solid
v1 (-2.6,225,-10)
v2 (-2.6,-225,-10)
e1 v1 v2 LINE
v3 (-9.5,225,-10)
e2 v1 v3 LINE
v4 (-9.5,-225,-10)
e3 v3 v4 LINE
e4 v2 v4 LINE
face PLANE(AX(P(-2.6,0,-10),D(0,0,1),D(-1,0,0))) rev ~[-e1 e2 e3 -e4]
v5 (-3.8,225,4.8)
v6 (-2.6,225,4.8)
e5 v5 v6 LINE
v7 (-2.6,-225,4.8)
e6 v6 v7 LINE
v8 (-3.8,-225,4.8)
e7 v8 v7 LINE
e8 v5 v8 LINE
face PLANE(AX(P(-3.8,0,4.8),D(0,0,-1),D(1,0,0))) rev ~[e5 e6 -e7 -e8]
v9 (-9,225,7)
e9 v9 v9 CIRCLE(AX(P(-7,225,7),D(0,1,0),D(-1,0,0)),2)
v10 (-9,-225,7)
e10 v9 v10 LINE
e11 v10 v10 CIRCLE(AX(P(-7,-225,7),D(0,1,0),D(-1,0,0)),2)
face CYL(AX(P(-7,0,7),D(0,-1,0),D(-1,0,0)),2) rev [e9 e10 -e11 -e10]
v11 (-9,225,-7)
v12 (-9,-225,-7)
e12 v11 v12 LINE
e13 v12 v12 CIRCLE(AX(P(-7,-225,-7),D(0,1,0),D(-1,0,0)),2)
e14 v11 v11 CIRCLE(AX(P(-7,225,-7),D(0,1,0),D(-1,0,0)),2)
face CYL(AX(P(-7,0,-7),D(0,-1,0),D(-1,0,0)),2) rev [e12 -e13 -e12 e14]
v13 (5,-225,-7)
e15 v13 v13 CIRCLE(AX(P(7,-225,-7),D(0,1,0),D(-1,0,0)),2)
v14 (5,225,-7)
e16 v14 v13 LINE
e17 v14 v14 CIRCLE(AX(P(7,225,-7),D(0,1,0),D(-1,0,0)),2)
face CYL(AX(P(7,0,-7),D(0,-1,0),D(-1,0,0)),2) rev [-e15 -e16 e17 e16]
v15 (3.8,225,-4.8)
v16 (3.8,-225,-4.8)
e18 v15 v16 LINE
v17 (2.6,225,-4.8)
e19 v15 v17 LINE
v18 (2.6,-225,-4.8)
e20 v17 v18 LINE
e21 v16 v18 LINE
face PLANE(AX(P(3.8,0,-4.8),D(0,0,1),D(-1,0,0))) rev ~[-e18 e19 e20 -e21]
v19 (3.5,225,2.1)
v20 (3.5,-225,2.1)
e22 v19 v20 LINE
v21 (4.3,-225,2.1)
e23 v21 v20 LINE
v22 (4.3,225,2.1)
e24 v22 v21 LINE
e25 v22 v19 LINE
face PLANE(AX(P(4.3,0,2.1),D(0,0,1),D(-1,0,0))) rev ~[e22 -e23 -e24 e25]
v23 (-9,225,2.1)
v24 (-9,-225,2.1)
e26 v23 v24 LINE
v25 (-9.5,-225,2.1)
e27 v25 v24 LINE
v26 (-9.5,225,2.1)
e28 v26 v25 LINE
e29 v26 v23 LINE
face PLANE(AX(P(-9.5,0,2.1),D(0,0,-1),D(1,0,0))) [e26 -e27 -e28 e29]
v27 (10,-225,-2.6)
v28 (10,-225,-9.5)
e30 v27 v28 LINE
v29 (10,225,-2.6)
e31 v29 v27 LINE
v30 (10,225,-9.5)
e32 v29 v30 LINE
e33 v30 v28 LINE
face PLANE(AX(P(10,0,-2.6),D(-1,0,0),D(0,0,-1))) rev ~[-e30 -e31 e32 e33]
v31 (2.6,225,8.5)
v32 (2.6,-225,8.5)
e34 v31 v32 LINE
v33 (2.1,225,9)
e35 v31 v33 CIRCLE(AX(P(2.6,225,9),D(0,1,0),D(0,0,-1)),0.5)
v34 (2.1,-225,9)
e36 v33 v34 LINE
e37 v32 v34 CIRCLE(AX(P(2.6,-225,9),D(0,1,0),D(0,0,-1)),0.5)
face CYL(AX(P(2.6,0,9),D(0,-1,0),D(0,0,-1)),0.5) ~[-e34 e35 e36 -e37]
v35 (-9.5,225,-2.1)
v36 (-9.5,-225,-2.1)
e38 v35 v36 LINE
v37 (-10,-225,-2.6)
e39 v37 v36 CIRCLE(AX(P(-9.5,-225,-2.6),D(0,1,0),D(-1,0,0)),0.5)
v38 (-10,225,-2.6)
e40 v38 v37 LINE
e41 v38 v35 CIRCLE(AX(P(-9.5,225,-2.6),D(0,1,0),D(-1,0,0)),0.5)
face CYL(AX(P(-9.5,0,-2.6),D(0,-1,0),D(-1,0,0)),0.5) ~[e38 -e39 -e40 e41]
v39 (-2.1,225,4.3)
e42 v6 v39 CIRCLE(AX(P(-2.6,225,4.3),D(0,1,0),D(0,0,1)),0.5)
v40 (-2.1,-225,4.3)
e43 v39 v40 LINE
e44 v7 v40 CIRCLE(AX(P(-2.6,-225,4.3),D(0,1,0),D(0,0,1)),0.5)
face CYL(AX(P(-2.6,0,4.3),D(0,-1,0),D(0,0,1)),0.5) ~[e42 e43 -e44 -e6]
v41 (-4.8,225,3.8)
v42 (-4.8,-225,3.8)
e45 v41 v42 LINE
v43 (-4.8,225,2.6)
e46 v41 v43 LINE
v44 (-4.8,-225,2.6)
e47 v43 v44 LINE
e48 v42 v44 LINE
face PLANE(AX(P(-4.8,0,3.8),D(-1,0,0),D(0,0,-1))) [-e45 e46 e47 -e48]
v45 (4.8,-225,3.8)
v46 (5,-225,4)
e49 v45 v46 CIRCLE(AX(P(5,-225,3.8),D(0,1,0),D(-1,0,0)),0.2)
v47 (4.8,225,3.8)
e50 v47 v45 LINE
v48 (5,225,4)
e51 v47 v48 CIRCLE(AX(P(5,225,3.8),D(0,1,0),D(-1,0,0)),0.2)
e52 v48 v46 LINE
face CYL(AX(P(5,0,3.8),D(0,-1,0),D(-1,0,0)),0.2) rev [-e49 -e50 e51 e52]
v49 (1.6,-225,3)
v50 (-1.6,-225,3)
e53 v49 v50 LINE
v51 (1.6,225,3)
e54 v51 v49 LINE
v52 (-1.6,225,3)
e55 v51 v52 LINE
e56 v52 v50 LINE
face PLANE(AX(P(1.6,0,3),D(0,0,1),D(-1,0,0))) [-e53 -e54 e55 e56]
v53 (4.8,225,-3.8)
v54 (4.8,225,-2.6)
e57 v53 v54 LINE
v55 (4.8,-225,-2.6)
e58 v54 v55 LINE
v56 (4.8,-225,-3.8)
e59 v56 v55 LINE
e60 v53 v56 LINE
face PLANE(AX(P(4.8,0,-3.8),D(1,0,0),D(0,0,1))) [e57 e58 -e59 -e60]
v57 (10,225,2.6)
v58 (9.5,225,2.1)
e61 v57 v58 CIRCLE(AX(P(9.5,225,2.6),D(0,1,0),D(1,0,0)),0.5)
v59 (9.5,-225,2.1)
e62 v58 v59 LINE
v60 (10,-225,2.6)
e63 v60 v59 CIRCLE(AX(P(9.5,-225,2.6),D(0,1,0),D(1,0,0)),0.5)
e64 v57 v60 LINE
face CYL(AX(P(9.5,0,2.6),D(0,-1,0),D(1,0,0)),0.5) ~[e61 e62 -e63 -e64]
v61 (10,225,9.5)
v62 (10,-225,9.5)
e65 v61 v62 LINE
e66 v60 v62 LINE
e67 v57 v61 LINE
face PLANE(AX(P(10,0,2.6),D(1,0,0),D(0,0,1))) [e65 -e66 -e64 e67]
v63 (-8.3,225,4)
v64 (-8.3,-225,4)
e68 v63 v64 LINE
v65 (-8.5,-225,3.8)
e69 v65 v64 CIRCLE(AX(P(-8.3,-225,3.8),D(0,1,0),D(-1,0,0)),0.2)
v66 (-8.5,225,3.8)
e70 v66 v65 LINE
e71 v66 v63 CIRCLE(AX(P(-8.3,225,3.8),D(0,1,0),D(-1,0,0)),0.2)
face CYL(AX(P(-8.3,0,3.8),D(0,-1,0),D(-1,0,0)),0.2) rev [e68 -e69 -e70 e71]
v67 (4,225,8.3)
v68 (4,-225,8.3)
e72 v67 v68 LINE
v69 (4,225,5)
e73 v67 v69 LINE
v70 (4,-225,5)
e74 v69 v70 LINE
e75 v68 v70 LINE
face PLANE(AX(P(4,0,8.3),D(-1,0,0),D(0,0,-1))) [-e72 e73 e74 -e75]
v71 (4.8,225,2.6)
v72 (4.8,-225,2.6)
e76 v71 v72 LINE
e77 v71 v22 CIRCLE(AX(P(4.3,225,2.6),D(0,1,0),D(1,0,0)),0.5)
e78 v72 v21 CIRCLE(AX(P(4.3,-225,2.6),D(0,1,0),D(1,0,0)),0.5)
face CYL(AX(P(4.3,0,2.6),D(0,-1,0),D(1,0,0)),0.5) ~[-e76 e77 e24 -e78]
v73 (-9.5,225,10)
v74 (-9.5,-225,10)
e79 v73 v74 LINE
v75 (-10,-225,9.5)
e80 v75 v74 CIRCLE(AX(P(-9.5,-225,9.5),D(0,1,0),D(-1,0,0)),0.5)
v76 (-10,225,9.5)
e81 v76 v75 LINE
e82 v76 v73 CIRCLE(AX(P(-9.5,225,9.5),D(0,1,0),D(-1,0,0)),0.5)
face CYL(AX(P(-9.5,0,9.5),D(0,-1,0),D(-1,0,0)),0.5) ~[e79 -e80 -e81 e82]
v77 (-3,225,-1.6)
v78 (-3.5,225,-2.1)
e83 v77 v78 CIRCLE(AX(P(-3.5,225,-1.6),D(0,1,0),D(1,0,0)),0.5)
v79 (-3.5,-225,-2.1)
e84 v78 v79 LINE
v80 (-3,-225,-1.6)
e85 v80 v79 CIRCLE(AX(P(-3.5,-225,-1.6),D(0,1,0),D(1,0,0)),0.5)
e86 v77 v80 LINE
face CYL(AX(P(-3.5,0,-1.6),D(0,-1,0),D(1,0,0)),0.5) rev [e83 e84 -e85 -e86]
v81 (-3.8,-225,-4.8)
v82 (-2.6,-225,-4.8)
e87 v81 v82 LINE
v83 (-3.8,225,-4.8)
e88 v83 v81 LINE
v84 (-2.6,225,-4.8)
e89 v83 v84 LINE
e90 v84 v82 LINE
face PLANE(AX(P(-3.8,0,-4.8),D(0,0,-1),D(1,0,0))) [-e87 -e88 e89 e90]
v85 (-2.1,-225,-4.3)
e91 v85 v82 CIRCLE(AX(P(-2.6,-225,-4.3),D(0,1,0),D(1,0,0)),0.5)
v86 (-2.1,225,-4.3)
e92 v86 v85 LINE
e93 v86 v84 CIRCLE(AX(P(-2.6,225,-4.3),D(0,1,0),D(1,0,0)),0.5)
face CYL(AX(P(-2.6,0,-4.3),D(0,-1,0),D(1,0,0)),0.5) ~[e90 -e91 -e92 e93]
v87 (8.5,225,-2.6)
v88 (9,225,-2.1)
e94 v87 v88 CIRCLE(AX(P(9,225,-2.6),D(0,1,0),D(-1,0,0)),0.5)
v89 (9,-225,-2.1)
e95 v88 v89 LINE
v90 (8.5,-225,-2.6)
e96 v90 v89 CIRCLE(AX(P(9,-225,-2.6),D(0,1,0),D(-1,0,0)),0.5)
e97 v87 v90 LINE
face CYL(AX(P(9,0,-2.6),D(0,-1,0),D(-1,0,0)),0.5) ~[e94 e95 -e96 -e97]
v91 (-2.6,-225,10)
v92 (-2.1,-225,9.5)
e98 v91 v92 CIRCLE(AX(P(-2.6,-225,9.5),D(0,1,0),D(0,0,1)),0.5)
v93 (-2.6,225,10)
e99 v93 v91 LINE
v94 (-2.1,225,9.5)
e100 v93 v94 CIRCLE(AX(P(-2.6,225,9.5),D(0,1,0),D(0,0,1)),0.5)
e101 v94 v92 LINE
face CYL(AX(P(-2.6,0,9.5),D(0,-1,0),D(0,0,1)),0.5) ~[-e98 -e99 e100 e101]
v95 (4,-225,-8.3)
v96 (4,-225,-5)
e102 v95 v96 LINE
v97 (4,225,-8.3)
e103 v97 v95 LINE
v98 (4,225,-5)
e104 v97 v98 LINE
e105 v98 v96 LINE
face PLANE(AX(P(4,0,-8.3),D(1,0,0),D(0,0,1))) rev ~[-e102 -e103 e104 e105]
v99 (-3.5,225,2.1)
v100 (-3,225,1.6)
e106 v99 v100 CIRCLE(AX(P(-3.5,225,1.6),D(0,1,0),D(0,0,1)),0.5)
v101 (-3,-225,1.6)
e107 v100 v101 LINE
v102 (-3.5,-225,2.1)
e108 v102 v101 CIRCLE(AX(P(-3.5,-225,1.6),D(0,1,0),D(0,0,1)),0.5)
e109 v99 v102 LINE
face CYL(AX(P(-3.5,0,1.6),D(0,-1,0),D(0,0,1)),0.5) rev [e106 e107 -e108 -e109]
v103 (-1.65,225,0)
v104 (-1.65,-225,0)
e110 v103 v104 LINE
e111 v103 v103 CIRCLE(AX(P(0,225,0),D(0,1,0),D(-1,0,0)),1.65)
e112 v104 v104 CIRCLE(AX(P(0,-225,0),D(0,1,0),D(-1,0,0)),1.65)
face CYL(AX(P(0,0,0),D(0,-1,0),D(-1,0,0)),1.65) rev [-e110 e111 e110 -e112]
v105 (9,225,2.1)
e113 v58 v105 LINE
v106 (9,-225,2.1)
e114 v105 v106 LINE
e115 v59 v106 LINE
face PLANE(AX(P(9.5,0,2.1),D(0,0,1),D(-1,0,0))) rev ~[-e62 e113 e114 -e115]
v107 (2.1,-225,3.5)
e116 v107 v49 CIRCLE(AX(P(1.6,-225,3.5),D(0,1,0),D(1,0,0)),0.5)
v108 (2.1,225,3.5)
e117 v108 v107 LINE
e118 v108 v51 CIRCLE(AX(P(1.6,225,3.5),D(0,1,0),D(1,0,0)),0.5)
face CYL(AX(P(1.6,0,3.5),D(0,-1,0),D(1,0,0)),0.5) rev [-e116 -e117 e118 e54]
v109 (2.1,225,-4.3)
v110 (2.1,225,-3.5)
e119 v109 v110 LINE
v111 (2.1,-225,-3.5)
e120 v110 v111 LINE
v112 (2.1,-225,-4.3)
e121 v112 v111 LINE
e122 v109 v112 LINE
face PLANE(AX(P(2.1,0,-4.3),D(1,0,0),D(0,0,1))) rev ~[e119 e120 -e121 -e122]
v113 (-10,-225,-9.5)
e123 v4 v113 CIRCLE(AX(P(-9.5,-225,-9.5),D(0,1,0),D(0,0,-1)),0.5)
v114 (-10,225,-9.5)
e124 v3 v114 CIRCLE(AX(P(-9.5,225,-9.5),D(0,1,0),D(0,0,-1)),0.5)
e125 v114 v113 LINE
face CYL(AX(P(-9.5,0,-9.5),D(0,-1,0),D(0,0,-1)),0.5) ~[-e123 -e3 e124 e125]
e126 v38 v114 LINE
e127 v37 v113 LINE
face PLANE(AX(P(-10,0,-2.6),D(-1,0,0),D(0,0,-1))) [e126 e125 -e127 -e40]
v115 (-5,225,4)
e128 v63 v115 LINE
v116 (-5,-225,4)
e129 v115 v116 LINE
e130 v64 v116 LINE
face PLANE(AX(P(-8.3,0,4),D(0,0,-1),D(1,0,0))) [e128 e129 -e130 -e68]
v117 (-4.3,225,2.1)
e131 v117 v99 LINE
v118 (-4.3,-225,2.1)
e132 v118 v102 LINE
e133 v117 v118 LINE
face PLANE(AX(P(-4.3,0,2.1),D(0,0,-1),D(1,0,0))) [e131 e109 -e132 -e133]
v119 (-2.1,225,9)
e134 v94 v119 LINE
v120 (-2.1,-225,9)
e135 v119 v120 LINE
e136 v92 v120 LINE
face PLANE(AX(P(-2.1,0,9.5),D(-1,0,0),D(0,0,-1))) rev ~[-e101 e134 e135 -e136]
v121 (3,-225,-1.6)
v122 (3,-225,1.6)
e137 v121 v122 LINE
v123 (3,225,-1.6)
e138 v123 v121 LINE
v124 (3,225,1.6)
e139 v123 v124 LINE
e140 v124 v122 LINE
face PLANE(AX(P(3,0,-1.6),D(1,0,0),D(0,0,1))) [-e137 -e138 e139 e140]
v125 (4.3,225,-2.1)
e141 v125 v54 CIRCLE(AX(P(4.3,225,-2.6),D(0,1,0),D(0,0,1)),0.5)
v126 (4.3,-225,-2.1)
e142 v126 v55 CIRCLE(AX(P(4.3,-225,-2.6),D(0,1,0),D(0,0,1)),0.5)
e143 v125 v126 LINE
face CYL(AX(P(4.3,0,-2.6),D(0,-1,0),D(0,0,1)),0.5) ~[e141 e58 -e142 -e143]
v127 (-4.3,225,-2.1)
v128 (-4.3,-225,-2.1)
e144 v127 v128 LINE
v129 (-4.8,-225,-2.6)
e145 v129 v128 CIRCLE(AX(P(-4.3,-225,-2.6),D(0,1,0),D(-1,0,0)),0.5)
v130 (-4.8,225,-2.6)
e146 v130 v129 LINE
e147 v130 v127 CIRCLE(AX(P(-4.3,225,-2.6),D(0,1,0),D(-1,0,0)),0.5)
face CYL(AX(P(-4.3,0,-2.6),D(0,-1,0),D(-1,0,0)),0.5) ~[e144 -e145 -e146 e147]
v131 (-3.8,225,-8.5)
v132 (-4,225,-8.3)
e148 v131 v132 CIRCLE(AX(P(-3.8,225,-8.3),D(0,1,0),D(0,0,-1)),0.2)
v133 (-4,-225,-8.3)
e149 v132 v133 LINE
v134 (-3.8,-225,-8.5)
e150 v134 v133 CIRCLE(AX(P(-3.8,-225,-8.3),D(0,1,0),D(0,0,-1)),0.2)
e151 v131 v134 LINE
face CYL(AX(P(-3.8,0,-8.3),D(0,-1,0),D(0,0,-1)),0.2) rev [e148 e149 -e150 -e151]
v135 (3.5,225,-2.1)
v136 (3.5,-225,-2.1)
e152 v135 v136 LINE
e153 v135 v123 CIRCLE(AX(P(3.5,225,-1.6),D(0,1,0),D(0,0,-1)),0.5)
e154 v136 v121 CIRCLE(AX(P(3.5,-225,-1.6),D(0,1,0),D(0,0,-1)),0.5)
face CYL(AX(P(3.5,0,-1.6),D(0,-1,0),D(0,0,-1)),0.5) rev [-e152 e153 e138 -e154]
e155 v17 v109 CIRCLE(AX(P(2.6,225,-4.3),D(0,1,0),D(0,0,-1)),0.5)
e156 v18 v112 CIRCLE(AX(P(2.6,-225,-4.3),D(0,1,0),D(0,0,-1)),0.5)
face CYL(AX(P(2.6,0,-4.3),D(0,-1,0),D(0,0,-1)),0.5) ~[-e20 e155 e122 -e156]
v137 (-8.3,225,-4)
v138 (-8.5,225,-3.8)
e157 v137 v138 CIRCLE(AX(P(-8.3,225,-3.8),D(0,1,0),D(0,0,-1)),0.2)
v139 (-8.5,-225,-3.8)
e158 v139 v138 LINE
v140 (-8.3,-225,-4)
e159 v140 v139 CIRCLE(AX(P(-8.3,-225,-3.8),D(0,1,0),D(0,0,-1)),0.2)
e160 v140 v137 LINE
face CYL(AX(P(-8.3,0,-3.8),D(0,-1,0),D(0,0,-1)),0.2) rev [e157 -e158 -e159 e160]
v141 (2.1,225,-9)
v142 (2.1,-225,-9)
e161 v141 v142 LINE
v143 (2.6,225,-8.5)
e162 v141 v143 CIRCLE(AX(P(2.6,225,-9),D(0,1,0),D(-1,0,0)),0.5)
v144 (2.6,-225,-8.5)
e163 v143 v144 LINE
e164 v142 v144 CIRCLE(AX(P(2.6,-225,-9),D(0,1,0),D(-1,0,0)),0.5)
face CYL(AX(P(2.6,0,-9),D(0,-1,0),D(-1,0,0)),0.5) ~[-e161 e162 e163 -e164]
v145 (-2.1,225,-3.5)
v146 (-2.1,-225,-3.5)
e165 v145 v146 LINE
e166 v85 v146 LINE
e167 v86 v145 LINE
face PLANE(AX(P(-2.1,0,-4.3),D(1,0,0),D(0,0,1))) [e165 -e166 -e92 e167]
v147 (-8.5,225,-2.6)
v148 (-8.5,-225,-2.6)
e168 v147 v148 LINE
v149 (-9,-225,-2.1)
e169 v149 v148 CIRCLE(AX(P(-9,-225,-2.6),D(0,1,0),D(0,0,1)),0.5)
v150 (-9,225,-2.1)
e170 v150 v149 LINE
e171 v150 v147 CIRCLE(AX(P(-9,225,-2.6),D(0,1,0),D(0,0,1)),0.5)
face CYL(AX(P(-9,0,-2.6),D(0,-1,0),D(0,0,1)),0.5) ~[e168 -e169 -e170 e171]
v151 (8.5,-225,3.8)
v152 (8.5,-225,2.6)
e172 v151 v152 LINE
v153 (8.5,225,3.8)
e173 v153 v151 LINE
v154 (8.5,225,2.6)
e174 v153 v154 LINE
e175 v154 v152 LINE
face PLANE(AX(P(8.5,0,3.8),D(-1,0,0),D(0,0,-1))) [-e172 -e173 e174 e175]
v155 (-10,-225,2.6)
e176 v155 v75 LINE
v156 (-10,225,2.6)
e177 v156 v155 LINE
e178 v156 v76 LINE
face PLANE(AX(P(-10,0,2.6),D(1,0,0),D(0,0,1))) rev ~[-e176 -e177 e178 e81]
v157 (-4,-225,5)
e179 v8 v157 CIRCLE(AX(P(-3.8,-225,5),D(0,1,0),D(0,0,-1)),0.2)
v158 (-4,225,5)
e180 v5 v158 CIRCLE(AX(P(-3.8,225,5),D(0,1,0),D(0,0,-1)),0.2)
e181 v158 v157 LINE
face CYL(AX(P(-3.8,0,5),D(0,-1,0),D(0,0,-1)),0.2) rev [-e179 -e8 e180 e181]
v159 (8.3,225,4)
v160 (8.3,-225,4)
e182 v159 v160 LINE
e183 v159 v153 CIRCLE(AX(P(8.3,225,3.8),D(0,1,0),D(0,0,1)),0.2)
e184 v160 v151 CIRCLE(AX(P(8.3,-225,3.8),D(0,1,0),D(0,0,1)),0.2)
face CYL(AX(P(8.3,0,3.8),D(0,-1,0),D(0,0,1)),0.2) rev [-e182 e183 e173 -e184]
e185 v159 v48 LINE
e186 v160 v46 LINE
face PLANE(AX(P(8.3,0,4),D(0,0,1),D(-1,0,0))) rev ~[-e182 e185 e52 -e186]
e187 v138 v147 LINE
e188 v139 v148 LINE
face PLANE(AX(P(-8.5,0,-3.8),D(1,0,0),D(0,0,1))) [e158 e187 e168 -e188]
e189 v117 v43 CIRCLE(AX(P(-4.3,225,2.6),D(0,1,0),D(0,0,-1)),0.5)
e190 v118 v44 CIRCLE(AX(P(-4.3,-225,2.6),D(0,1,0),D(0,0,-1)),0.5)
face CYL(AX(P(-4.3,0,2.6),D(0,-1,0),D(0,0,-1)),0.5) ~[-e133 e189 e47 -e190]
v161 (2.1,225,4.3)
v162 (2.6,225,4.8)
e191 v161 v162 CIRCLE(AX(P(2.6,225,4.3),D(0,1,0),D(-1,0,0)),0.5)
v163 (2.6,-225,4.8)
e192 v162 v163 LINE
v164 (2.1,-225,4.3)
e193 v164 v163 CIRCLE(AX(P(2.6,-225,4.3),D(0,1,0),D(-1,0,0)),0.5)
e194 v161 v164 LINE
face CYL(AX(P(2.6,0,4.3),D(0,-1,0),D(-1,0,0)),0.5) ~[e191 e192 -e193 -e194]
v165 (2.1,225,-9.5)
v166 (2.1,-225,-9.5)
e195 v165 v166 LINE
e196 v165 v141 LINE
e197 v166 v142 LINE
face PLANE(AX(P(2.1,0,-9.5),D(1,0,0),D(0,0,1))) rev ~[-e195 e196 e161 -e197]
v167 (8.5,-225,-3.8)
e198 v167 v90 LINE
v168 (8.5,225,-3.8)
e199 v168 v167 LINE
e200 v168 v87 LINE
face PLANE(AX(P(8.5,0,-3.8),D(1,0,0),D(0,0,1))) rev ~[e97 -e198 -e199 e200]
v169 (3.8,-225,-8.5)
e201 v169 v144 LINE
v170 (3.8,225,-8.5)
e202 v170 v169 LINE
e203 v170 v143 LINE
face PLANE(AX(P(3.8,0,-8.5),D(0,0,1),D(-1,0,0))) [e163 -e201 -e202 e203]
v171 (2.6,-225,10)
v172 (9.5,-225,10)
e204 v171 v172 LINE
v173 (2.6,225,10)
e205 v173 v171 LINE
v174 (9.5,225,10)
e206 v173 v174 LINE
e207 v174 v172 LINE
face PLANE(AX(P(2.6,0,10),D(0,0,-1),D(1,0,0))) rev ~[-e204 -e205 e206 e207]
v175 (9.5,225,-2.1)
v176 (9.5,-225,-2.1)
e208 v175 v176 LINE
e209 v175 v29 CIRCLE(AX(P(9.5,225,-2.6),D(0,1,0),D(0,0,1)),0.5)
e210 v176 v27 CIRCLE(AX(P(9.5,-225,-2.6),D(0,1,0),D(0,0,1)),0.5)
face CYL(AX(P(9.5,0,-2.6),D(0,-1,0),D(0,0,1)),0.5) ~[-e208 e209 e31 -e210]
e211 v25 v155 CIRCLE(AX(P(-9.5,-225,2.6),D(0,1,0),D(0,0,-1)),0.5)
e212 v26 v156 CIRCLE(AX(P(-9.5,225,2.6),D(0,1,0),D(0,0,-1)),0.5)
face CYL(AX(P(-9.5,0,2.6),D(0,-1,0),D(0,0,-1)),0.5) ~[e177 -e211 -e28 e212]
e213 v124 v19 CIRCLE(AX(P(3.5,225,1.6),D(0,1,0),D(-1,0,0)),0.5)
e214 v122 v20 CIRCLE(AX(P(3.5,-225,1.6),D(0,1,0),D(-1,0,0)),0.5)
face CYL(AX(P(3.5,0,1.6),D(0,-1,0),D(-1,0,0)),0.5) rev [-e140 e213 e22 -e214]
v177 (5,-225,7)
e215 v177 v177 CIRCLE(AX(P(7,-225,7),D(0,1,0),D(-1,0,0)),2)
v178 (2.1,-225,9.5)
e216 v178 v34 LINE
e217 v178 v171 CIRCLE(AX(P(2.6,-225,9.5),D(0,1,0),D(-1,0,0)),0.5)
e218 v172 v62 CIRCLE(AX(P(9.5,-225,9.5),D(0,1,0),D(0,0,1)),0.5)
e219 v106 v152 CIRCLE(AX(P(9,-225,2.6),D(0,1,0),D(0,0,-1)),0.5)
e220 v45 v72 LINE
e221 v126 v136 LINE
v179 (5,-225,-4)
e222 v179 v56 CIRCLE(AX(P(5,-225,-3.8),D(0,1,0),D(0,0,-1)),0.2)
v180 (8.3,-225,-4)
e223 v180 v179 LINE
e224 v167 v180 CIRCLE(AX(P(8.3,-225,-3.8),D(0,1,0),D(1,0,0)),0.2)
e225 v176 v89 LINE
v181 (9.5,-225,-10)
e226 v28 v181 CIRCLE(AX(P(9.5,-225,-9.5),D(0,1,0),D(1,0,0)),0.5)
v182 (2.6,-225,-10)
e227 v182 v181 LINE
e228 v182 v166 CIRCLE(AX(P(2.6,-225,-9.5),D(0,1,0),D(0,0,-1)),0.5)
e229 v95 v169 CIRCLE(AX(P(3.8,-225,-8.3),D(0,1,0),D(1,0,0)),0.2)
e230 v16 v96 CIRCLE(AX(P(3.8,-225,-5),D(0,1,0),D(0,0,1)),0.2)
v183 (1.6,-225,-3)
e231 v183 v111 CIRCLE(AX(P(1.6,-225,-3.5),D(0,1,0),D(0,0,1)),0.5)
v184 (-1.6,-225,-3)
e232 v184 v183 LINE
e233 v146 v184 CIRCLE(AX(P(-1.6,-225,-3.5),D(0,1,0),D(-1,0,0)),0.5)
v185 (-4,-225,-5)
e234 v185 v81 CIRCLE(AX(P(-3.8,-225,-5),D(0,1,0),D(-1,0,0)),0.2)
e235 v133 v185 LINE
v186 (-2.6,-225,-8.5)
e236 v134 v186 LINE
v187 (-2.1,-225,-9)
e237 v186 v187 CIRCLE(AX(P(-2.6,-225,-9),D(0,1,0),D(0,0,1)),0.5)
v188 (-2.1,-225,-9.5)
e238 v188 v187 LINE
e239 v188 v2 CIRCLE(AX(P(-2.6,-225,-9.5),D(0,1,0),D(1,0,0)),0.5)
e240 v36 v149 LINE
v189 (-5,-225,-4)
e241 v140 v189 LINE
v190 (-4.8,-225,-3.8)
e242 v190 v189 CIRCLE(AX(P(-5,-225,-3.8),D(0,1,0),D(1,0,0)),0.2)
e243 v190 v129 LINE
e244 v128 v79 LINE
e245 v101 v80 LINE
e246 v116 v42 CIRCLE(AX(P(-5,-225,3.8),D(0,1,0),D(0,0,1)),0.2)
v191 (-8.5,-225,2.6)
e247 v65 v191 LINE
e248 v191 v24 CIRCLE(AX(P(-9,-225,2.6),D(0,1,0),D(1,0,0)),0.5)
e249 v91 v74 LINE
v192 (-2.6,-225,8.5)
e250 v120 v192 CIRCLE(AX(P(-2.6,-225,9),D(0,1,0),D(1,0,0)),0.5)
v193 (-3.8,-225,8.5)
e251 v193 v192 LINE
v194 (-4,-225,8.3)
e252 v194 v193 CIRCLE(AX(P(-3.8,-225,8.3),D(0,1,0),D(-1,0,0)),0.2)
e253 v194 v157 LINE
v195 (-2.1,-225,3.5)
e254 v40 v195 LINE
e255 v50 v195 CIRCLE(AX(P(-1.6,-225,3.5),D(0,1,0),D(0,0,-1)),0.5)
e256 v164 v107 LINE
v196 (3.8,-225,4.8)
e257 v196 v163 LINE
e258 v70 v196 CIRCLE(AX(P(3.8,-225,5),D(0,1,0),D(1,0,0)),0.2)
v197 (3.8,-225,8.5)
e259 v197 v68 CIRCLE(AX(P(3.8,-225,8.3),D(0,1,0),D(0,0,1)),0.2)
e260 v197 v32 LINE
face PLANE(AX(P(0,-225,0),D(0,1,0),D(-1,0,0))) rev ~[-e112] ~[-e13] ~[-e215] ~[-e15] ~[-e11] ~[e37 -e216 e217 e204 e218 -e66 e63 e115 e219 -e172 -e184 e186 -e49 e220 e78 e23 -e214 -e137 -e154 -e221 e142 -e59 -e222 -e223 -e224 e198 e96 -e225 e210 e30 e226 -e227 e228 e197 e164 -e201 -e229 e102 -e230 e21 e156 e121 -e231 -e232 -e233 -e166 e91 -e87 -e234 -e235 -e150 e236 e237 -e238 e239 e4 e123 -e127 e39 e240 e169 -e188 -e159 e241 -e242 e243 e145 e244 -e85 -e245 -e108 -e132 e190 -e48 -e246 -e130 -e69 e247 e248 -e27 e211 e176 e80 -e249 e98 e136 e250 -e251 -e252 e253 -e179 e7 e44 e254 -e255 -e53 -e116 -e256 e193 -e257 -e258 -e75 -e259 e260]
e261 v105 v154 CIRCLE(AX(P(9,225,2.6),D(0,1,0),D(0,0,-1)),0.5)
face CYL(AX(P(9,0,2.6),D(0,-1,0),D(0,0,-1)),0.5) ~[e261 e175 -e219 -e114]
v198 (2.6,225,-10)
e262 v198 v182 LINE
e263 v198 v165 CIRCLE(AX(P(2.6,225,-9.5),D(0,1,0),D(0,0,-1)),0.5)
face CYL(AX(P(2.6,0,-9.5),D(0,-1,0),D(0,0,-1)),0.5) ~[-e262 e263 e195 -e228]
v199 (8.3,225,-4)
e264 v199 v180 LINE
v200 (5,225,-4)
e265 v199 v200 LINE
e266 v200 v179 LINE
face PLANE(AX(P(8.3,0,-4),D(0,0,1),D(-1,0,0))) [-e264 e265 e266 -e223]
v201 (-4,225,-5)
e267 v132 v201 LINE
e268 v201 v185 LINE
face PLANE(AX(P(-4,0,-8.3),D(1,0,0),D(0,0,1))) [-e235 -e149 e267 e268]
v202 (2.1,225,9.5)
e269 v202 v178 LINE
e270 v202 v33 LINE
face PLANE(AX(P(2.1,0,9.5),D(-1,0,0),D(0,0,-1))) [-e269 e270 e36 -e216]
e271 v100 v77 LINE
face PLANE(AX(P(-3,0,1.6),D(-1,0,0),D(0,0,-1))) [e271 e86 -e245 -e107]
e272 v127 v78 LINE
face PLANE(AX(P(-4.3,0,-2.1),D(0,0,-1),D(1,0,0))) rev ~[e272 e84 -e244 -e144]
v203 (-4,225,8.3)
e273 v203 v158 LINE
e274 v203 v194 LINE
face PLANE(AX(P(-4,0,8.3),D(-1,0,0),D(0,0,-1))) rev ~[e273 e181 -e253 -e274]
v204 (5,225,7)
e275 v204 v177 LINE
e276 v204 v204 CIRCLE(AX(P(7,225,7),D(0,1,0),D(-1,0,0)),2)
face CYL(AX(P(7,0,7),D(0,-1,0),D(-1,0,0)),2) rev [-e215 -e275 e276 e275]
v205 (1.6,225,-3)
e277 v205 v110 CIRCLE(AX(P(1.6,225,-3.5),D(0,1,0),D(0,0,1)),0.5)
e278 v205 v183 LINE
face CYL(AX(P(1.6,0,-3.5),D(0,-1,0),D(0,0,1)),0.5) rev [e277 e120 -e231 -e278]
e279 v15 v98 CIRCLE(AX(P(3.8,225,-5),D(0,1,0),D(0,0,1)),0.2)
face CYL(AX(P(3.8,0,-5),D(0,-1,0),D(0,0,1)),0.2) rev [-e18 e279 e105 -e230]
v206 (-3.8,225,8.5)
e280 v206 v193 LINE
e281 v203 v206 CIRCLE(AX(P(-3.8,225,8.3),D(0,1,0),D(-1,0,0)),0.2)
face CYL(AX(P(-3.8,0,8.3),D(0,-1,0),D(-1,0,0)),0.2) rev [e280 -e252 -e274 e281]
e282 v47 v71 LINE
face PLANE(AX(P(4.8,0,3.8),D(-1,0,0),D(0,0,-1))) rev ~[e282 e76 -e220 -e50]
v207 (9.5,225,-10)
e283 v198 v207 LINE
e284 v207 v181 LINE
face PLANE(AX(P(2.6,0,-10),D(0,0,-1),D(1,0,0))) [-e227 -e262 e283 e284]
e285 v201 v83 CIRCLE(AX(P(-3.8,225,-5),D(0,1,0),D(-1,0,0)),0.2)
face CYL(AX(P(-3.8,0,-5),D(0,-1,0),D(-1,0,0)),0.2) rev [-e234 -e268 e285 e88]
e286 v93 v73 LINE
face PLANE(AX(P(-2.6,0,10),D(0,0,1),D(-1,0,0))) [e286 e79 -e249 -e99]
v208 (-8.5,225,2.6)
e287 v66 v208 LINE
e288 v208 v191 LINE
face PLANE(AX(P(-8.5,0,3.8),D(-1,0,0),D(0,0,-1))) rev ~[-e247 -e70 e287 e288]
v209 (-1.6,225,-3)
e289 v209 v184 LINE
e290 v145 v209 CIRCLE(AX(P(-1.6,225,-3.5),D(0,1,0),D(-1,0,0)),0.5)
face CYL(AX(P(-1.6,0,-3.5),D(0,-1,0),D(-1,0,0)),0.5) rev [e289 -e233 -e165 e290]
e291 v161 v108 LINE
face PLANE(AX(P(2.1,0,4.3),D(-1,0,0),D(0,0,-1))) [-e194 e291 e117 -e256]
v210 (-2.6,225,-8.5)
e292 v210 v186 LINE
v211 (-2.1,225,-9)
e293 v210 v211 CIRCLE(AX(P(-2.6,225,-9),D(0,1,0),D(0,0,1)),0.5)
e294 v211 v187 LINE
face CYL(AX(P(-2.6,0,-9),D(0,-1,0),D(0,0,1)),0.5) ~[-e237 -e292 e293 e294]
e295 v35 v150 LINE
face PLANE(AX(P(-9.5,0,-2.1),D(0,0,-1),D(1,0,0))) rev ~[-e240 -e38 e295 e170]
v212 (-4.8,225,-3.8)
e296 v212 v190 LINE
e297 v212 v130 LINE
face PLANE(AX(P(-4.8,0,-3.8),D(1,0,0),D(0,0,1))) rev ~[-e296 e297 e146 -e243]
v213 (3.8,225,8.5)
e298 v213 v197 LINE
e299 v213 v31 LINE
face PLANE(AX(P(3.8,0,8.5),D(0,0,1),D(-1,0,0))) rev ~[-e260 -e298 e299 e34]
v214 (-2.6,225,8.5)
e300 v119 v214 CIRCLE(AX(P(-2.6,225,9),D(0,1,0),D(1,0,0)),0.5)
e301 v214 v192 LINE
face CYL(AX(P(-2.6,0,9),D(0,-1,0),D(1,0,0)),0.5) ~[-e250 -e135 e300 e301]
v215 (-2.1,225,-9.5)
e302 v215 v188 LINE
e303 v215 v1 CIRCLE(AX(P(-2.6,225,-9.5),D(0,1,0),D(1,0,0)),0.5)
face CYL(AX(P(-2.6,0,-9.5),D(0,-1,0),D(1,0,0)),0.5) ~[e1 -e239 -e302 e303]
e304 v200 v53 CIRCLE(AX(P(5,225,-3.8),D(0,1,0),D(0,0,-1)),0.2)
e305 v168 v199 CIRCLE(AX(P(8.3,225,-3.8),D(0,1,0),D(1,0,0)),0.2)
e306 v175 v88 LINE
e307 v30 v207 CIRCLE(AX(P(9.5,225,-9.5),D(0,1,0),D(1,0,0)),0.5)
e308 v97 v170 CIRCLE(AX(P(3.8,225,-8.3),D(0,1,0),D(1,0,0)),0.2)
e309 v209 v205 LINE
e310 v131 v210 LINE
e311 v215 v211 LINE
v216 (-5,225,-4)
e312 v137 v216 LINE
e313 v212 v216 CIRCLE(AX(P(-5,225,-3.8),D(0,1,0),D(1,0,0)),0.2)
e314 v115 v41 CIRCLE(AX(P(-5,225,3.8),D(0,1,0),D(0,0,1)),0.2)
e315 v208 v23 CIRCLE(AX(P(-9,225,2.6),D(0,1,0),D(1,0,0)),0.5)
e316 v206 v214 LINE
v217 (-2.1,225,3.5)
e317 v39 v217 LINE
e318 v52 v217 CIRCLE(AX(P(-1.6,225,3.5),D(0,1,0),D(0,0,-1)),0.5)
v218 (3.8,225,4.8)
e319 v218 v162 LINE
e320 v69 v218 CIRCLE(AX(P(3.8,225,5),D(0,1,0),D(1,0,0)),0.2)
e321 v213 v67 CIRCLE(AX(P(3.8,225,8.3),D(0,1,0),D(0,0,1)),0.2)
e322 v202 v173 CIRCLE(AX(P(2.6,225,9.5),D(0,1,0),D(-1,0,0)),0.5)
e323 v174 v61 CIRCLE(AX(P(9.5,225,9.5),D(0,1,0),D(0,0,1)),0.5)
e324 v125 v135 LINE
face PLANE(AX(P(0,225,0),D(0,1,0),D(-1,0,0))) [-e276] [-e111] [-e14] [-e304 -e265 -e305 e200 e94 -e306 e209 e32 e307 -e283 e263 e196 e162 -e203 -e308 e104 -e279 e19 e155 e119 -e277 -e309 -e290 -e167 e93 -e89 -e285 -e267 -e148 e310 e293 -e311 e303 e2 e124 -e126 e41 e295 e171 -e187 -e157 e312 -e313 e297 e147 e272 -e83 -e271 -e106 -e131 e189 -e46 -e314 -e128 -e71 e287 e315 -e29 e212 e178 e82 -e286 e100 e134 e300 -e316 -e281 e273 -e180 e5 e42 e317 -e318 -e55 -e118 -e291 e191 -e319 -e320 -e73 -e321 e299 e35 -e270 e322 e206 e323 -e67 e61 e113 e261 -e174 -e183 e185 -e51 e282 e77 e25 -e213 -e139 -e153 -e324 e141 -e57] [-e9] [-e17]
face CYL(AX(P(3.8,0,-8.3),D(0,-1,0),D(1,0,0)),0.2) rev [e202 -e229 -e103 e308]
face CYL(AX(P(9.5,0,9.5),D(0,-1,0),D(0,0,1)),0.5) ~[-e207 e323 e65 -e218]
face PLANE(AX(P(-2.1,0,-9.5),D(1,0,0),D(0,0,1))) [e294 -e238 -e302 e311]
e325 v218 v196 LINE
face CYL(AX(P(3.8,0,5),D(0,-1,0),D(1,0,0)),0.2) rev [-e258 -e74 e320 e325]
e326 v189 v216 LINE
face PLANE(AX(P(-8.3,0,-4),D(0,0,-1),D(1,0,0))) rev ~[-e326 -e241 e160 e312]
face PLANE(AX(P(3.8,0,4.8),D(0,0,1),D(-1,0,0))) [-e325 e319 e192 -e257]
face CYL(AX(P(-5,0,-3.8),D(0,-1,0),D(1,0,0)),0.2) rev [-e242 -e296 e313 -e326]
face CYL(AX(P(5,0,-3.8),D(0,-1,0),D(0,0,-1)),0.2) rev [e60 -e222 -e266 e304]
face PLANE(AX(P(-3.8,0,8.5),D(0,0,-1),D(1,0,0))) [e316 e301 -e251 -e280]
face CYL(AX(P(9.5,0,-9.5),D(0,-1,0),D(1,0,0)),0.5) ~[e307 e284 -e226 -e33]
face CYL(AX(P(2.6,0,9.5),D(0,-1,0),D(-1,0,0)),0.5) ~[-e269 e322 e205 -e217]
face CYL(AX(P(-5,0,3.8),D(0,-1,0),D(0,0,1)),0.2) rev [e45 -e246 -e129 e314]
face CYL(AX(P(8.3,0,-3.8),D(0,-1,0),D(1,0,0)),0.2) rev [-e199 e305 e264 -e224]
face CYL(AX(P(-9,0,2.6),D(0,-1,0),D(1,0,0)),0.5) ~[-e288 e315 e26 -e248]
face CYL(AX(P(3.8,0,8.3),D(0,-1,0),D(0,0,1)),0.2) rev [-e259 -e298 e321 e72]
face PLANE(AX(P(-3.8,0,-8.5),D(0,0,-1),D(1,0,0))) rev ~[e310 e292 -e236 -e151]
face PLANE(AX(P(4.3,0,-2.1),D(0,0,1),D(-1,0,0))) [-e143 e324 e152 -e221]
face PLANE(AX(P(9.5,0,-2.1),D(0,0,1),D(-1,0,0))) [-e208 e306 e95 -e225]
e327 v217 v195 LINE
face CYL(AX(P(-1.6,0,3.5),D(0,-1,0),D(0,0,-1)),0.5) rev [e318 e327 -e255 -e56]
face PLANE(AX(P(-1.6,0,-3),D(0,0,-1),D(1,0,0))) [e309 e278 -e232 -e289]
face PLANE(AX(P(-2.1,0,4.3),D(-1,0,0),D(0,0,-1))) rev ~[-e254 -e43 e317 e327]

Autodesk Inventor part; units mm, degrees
ref_plane "YZ Plane" through (0, 0, 0) normal (1, 0, 0) x (0, 1, 0)
ref_plane "XZ Plane" through (0, 0, 0) normal (0, 1, 0) x (-1, 0, 0)
ref_plane "XY Plane" through (0, 0, 0) normal (0, 0, 1) x (1, 0, 0)
sketch "スケッチ" plane through (0, 0, 0) normal (0, 1, 0) x (-1, 0, 0)
  line L0 (8.5, -3.8) -> (8.5, -2.6)
  line L1 (4, -8.3) -> (4, -5)
  circle A0 centre (7, -7) radius 2
  line L2 (10, -2.6) -> (10, -9.5)
  line L3 (2.6, -10) -> (9.5, -10)
  line L4 (2.1, -9.5) -> (2.1, -9)
  line L5 (8.5, -2.1) -> (8.5, -4)
  line L6 (3.8, -4.8) -> (2.6, -4.8)
  line L7 (4.8, -3.8) -> (4.8, -2.6)
  arc A1 (2.1, -4.3) -> (2.6, -4.8) centre (2.6, -4.3) ccw
  arc A2 (2.6, -8.5) -> (2.1, -9) centre (2.6, -9) ccw
  arc A3 (3.8, -8.5) -> (4, -8.3) centre (3.8, -8.3) ccw
  arc A4 (4, -5) -> (3.8, -4.8) centre (3.8, -5) ccw
  arc A5 (2.1, -3.5) -> (1.6, -3) centre (1.6, -3.5) ccw
  arc A6 (2.1, -9.5) -> (2.6, -10) centre (2.6, -9.5) ccw
  arc A7 (9.5, -10) -> (10, -9.5) centre (9.5, -9.5) ccw
  arc A8 (10, -2.6) -> (9.5, -2.1) centre (9.5, -2.6) ccw
  arc A9 (9, -2.1) -> (8.5, -2.6) centre (9, -2.6) ccw
  arc A10 (8.3, -4) -> (8.5, -3.8) centre (8.3, -3.8) ccw
  arc A11 (4.8, -3.8) -> (5, -4) centre (5, -3.8) ccw
  line L8 (4.3, -2.1) -> (3.5, -2.1)
  arc A12 (4.8, -2.6) -> (4.3, -2.1) centre (4.3, -2.6) ccw
  arc A13 (3, -1.6) -> (3.5, -2.1) centre (3.5, -1.6) ccw
  line L9 (2.1, -4.3) -> (2.1, -3.5)
  line L10 (3.8, -8.5) -> (2.6, -8.5)
  line L11 (9.5, -2.1) -> (9, -2.1)
  line L12 (8.3, -4) -> (5, -4)
  circle A14 centre (0, 0) radius 1.65
  arc A15 (8.5, 2.6) -> (9, 2.1) centre (9, 2.6) ccw
  line L13 (8.5, 3.8) -> (8.5, 2.6)
  arc A16 (8.5, 3.8) -> (8.3, 4) centre (8.3, 3.8) ccw
  line L14 (8.3, 4) -> (5, 4)
  line L15 (10, 2.6) -> (10, 9.5)
  arc A17 (10, 9.5) -> (9.5, 10) centre (9.5, 9.5) ccw
  circle A18 centre (7, 7) radius 2
  line L16 (4, 8.3) -> (4, 5)
  line L17 (2.6, 10) -> (9.5, 10)
  line L18 (9.5, 2.1) -> (9, 2.1)
  arc A19 (9.5, 2.1) -> (10, 2.6) centre (9.5, 2.6) ccw
  line L19 (3.8, 8.5) -> (2.6, 8.5)
  line L20 (4.8, 3.8) -> (4.8, 2.6)
  arc A20 (4.3, 2.1) -> (4.8, 2.6) centre (4.3, 2.6) ccw
  line L21 (2.1, 8.5) -> (4, 8.5)
  arc A21 (4, 8.3) -> (3.8, 8.5) centre (3.8, 8.3) ccw
  arc A22 (2.1, 9) -> (2.6, 8.5) centre (2.6, 9) ccw
  arc A23 (2.6, 10) -> (2.1, 9.5) centre (2.6, 9.5) ccw
  line L22 (2.1, 9.5) -> (2.1, 9)
  arc A24 (1.6, 3) -> (2.1, 3.5) centre (1.6, 3.5) ccw
  line L23 (3.8, 4.8) -> (2.6, 4.8)
  arc A25 (5, 4) -> (4.8, 3.8) centre (5, 3.8) ccw
  arc A26 (3.8, 4.8) -> (4, 5) centre (3.8, 5) ccw
  line L24 (4.3, 2.1) -> (3.5, 2.1)
  arc A27 (2.6, 4.8) -> (2.1, 4.3) centre (2.6, 4.3) ccw
  line L25 (2.1, 4.3) -> (2.1, 3.5)
  arc A28 (3.5, 2.1) -> (3, 1.6) centre (3.5, 1.6) ccw
  arc A29 (-2.6, 8.5) -> (-2.1, 9) centre (-2.6, 9) ccw
  line L26 (-3.8, 8.5) -> (-2.6, 8.5)
  arc A30 (-3.8, 8.5) -> (-4, 8.3) centre (-3.8, 8.3) ccw
  line L27 (-4, 8.3) -> (-4, 5)
  line L28 (-2.6, 10) -> (-9.5, 10)
  arc A31 (-9.5, 10) -> (-10, 9.5) centre (-9.5, 9.5) ccw
  circle A32 centre (-7, 7) radius 2
  line L29 (-8.3, 4) -> (-5, 4)
  line L30 (-10, 2.6) -> (-10, 9.5)
  line L31 (-2.1, 9.5) -> (-2.1, 9)
  arc A33 (-2.1, 9.5) -> (-2.6, 10) centre (-2.6, 9.5) ccw
  line L32 (-8.5, 3.8) -> (-8.5, 2.6)
  line L33 (-3.8, 4.8) -> (-2.6, 4.8)
  arc A34 (-2.1, 4.3) -> (-2.6, 4.8) centre (-2.6, 4.3) ccw
  line L34 (-8.5, 2.1) -> (-8.5, 4)
  arc A35 (-8.3, 4) -> (-8.5, 3.8) centre (-8.3, 3.8) ccw
  arc A36 (-9, 2.1) -> (-8.5, 2.6) centre (-9, 2.6) ccw
  arc A37 (-10, 2.6) -> (-9.5, 2.1) centre (-9.5, 2.6) ccw
  line L35 (-9.5, 2.1) -> (-9, 2.1)
  arc A38 (-3, 1.6) -> (-3.5, 2.1) centre (-3.5, 1.6) ccw
  line L36 (-4.8, 3.8) -> (-4.8, 2.6)
  arc A39 (-4, 5) -> (-3.8, 4.8) centre (-3.8, 5) ccw
  arc A40 (-4.8, 3.8) -> (-5, 4) centre (-5, 3.8) ccw
  line L37 (-2.1, 4.3) -> (-2.1, 3.5)
  arc A41 (-4.8, 2.6) -> (-4.3, 2.1) centre (-4.3, 2.6) ccw
  line L38 (-4.3, 2.1) -> (-3.5, 2.1)
  arc A42 (-2.1, 3.5) -> (-1.6, 3) centre (-1.6, 3.5) ccw
  arc A43 (-8.5, -2.6) -> (-9, -2.1) centre (-9, -2.6) ccw
  line L39 (-8.5, -3.8) -> (-8.5, -2.6)
  arc A44 (-8.5, -3.8) -> (-8.3, -4) centre (-8.3, -3.8) ccw
  line L40 (-8.3, -4) -> (-5, -4)
  line L41 (-10, -2.6) -> (-10, -9.5)
  arc A45 (-10, -9.5) -> (-9.5, -10) centre (-9.5, -9.5) ccw
  circle A46 centre (-7, -7) radius 2
  line L42 (-4, -8.3) -> (-4, -5)
  line L43 (-2.6, -10) -> (-9.5, -10)
  line L44 (-9.5, -2.1) -> (-9, -2.1)
  arc A47 (-9.5, -2.1) -> (-10, -2.6) centre (-9.5, -2.6) ccw
  line L45 (-3.8, -8.5) -> (-2.6, -8.5)
  line L46 (-4.8, -3.8) -> (-4.8, -2.6)
  arc A48 (-4.3, -2.1) -> (-4.8, -2.6) centre (-4.3, -2.6) ccw
  line L47 (-2.1, -8.5) -> (-4, -8.5)
  arc A49 (-4, -8.3) -> (-3.8, -8.5) centre (-3.8, -8.3) ccw
  arc A50 (-2.1, -9) -> (-2.6, -8.5) centre (-2.6, -9) ccw
  arc A51 (-2.6, -10) -> (-2.1, -9.5) centre (-2.6, -9.5) ccw
  line L48 (-2.1, -9.5) -> (-2.1, -9)
  arc A52 (-1.6, -3) -> (-2.1, -3.5) centre (-1.6, -3.5) ccw
  line L49 (-3.8, -4.8) -> (-2.6, -4.8)
  arc A53 (-5, -4) -> (-4.8, -3.8) centre (-5, -3.8) ccw
  arc A54 (-3.8, -4.8) -> (-4, -5) centre (-3.8, -5) ccw
  line L50 (-4.3, -2.1) -> (-3.5, -2.1)
  arc A55 (-2.6, -4.8) -> (-2.1, -4.3) centre (-2.6, -4.3) ccw
  line L51 (-2.1, -4.3) -> (-2.1, -3.5)
  arc A56 (-3.5, -2.1) -> (-3, -1.6) centre (-3.5, -1.6) ccw
  line L52 (1.6, -3) -> (-1.6, -3)
  line L53 (-3, -1.6) -> (-3, 1.6)
  line L54 (-1.6, 3) -> (1.6, 3)
  line L55 (3, 1.6) -> (3, -1.6)
  point P0 (2.1, -10)
  point P1 (10, 2.1)
  point P2 (-2.1, 10)
  point P3 (-10, -2.1)
  dimension "d12" = 4
  dimension "d14" = 3.7
  dimension "d16" = 0.5
  dimension "d17" = 0.5
  dimension "d18" = 0.2
  dimension "d19" = 0.5
  dimension "d20" = 0.5
  dimension "d24" = 0.5
  dimension "d25" = 0.2
  dimension "d28" = 0.5
  dimension "d31" = 1.5
  dimension "d36" = 3.7
  dimension "d37" = 1.5
  dimension "d58" = 3.3
  dimension "d65" = 10
  dimension "d67" = 2.1
  dimension "d68" = 2.1
  dimension "d69" = 1.9
  dimension "d70" = 7
  dimension "d72" = 2.1
  dimension "d73" = 2.1
  dimension "d74" = 1.9
  dimension "d75" = 7
  dimension "d76" = 10
  dimension "d80" = 360
  dimension "d82" = 3
extrude "ボディ" add sketch "スケッチ" along normal mid plane 450
equation "\"G_OFFSET_START\" = 0"
equation "\"G_OFFSET_END\" = 0"
equation "\"G_L\" = d90"
equation "\"d90\" = 330"
properties part number "s430" material "アルミニウム 6061"
